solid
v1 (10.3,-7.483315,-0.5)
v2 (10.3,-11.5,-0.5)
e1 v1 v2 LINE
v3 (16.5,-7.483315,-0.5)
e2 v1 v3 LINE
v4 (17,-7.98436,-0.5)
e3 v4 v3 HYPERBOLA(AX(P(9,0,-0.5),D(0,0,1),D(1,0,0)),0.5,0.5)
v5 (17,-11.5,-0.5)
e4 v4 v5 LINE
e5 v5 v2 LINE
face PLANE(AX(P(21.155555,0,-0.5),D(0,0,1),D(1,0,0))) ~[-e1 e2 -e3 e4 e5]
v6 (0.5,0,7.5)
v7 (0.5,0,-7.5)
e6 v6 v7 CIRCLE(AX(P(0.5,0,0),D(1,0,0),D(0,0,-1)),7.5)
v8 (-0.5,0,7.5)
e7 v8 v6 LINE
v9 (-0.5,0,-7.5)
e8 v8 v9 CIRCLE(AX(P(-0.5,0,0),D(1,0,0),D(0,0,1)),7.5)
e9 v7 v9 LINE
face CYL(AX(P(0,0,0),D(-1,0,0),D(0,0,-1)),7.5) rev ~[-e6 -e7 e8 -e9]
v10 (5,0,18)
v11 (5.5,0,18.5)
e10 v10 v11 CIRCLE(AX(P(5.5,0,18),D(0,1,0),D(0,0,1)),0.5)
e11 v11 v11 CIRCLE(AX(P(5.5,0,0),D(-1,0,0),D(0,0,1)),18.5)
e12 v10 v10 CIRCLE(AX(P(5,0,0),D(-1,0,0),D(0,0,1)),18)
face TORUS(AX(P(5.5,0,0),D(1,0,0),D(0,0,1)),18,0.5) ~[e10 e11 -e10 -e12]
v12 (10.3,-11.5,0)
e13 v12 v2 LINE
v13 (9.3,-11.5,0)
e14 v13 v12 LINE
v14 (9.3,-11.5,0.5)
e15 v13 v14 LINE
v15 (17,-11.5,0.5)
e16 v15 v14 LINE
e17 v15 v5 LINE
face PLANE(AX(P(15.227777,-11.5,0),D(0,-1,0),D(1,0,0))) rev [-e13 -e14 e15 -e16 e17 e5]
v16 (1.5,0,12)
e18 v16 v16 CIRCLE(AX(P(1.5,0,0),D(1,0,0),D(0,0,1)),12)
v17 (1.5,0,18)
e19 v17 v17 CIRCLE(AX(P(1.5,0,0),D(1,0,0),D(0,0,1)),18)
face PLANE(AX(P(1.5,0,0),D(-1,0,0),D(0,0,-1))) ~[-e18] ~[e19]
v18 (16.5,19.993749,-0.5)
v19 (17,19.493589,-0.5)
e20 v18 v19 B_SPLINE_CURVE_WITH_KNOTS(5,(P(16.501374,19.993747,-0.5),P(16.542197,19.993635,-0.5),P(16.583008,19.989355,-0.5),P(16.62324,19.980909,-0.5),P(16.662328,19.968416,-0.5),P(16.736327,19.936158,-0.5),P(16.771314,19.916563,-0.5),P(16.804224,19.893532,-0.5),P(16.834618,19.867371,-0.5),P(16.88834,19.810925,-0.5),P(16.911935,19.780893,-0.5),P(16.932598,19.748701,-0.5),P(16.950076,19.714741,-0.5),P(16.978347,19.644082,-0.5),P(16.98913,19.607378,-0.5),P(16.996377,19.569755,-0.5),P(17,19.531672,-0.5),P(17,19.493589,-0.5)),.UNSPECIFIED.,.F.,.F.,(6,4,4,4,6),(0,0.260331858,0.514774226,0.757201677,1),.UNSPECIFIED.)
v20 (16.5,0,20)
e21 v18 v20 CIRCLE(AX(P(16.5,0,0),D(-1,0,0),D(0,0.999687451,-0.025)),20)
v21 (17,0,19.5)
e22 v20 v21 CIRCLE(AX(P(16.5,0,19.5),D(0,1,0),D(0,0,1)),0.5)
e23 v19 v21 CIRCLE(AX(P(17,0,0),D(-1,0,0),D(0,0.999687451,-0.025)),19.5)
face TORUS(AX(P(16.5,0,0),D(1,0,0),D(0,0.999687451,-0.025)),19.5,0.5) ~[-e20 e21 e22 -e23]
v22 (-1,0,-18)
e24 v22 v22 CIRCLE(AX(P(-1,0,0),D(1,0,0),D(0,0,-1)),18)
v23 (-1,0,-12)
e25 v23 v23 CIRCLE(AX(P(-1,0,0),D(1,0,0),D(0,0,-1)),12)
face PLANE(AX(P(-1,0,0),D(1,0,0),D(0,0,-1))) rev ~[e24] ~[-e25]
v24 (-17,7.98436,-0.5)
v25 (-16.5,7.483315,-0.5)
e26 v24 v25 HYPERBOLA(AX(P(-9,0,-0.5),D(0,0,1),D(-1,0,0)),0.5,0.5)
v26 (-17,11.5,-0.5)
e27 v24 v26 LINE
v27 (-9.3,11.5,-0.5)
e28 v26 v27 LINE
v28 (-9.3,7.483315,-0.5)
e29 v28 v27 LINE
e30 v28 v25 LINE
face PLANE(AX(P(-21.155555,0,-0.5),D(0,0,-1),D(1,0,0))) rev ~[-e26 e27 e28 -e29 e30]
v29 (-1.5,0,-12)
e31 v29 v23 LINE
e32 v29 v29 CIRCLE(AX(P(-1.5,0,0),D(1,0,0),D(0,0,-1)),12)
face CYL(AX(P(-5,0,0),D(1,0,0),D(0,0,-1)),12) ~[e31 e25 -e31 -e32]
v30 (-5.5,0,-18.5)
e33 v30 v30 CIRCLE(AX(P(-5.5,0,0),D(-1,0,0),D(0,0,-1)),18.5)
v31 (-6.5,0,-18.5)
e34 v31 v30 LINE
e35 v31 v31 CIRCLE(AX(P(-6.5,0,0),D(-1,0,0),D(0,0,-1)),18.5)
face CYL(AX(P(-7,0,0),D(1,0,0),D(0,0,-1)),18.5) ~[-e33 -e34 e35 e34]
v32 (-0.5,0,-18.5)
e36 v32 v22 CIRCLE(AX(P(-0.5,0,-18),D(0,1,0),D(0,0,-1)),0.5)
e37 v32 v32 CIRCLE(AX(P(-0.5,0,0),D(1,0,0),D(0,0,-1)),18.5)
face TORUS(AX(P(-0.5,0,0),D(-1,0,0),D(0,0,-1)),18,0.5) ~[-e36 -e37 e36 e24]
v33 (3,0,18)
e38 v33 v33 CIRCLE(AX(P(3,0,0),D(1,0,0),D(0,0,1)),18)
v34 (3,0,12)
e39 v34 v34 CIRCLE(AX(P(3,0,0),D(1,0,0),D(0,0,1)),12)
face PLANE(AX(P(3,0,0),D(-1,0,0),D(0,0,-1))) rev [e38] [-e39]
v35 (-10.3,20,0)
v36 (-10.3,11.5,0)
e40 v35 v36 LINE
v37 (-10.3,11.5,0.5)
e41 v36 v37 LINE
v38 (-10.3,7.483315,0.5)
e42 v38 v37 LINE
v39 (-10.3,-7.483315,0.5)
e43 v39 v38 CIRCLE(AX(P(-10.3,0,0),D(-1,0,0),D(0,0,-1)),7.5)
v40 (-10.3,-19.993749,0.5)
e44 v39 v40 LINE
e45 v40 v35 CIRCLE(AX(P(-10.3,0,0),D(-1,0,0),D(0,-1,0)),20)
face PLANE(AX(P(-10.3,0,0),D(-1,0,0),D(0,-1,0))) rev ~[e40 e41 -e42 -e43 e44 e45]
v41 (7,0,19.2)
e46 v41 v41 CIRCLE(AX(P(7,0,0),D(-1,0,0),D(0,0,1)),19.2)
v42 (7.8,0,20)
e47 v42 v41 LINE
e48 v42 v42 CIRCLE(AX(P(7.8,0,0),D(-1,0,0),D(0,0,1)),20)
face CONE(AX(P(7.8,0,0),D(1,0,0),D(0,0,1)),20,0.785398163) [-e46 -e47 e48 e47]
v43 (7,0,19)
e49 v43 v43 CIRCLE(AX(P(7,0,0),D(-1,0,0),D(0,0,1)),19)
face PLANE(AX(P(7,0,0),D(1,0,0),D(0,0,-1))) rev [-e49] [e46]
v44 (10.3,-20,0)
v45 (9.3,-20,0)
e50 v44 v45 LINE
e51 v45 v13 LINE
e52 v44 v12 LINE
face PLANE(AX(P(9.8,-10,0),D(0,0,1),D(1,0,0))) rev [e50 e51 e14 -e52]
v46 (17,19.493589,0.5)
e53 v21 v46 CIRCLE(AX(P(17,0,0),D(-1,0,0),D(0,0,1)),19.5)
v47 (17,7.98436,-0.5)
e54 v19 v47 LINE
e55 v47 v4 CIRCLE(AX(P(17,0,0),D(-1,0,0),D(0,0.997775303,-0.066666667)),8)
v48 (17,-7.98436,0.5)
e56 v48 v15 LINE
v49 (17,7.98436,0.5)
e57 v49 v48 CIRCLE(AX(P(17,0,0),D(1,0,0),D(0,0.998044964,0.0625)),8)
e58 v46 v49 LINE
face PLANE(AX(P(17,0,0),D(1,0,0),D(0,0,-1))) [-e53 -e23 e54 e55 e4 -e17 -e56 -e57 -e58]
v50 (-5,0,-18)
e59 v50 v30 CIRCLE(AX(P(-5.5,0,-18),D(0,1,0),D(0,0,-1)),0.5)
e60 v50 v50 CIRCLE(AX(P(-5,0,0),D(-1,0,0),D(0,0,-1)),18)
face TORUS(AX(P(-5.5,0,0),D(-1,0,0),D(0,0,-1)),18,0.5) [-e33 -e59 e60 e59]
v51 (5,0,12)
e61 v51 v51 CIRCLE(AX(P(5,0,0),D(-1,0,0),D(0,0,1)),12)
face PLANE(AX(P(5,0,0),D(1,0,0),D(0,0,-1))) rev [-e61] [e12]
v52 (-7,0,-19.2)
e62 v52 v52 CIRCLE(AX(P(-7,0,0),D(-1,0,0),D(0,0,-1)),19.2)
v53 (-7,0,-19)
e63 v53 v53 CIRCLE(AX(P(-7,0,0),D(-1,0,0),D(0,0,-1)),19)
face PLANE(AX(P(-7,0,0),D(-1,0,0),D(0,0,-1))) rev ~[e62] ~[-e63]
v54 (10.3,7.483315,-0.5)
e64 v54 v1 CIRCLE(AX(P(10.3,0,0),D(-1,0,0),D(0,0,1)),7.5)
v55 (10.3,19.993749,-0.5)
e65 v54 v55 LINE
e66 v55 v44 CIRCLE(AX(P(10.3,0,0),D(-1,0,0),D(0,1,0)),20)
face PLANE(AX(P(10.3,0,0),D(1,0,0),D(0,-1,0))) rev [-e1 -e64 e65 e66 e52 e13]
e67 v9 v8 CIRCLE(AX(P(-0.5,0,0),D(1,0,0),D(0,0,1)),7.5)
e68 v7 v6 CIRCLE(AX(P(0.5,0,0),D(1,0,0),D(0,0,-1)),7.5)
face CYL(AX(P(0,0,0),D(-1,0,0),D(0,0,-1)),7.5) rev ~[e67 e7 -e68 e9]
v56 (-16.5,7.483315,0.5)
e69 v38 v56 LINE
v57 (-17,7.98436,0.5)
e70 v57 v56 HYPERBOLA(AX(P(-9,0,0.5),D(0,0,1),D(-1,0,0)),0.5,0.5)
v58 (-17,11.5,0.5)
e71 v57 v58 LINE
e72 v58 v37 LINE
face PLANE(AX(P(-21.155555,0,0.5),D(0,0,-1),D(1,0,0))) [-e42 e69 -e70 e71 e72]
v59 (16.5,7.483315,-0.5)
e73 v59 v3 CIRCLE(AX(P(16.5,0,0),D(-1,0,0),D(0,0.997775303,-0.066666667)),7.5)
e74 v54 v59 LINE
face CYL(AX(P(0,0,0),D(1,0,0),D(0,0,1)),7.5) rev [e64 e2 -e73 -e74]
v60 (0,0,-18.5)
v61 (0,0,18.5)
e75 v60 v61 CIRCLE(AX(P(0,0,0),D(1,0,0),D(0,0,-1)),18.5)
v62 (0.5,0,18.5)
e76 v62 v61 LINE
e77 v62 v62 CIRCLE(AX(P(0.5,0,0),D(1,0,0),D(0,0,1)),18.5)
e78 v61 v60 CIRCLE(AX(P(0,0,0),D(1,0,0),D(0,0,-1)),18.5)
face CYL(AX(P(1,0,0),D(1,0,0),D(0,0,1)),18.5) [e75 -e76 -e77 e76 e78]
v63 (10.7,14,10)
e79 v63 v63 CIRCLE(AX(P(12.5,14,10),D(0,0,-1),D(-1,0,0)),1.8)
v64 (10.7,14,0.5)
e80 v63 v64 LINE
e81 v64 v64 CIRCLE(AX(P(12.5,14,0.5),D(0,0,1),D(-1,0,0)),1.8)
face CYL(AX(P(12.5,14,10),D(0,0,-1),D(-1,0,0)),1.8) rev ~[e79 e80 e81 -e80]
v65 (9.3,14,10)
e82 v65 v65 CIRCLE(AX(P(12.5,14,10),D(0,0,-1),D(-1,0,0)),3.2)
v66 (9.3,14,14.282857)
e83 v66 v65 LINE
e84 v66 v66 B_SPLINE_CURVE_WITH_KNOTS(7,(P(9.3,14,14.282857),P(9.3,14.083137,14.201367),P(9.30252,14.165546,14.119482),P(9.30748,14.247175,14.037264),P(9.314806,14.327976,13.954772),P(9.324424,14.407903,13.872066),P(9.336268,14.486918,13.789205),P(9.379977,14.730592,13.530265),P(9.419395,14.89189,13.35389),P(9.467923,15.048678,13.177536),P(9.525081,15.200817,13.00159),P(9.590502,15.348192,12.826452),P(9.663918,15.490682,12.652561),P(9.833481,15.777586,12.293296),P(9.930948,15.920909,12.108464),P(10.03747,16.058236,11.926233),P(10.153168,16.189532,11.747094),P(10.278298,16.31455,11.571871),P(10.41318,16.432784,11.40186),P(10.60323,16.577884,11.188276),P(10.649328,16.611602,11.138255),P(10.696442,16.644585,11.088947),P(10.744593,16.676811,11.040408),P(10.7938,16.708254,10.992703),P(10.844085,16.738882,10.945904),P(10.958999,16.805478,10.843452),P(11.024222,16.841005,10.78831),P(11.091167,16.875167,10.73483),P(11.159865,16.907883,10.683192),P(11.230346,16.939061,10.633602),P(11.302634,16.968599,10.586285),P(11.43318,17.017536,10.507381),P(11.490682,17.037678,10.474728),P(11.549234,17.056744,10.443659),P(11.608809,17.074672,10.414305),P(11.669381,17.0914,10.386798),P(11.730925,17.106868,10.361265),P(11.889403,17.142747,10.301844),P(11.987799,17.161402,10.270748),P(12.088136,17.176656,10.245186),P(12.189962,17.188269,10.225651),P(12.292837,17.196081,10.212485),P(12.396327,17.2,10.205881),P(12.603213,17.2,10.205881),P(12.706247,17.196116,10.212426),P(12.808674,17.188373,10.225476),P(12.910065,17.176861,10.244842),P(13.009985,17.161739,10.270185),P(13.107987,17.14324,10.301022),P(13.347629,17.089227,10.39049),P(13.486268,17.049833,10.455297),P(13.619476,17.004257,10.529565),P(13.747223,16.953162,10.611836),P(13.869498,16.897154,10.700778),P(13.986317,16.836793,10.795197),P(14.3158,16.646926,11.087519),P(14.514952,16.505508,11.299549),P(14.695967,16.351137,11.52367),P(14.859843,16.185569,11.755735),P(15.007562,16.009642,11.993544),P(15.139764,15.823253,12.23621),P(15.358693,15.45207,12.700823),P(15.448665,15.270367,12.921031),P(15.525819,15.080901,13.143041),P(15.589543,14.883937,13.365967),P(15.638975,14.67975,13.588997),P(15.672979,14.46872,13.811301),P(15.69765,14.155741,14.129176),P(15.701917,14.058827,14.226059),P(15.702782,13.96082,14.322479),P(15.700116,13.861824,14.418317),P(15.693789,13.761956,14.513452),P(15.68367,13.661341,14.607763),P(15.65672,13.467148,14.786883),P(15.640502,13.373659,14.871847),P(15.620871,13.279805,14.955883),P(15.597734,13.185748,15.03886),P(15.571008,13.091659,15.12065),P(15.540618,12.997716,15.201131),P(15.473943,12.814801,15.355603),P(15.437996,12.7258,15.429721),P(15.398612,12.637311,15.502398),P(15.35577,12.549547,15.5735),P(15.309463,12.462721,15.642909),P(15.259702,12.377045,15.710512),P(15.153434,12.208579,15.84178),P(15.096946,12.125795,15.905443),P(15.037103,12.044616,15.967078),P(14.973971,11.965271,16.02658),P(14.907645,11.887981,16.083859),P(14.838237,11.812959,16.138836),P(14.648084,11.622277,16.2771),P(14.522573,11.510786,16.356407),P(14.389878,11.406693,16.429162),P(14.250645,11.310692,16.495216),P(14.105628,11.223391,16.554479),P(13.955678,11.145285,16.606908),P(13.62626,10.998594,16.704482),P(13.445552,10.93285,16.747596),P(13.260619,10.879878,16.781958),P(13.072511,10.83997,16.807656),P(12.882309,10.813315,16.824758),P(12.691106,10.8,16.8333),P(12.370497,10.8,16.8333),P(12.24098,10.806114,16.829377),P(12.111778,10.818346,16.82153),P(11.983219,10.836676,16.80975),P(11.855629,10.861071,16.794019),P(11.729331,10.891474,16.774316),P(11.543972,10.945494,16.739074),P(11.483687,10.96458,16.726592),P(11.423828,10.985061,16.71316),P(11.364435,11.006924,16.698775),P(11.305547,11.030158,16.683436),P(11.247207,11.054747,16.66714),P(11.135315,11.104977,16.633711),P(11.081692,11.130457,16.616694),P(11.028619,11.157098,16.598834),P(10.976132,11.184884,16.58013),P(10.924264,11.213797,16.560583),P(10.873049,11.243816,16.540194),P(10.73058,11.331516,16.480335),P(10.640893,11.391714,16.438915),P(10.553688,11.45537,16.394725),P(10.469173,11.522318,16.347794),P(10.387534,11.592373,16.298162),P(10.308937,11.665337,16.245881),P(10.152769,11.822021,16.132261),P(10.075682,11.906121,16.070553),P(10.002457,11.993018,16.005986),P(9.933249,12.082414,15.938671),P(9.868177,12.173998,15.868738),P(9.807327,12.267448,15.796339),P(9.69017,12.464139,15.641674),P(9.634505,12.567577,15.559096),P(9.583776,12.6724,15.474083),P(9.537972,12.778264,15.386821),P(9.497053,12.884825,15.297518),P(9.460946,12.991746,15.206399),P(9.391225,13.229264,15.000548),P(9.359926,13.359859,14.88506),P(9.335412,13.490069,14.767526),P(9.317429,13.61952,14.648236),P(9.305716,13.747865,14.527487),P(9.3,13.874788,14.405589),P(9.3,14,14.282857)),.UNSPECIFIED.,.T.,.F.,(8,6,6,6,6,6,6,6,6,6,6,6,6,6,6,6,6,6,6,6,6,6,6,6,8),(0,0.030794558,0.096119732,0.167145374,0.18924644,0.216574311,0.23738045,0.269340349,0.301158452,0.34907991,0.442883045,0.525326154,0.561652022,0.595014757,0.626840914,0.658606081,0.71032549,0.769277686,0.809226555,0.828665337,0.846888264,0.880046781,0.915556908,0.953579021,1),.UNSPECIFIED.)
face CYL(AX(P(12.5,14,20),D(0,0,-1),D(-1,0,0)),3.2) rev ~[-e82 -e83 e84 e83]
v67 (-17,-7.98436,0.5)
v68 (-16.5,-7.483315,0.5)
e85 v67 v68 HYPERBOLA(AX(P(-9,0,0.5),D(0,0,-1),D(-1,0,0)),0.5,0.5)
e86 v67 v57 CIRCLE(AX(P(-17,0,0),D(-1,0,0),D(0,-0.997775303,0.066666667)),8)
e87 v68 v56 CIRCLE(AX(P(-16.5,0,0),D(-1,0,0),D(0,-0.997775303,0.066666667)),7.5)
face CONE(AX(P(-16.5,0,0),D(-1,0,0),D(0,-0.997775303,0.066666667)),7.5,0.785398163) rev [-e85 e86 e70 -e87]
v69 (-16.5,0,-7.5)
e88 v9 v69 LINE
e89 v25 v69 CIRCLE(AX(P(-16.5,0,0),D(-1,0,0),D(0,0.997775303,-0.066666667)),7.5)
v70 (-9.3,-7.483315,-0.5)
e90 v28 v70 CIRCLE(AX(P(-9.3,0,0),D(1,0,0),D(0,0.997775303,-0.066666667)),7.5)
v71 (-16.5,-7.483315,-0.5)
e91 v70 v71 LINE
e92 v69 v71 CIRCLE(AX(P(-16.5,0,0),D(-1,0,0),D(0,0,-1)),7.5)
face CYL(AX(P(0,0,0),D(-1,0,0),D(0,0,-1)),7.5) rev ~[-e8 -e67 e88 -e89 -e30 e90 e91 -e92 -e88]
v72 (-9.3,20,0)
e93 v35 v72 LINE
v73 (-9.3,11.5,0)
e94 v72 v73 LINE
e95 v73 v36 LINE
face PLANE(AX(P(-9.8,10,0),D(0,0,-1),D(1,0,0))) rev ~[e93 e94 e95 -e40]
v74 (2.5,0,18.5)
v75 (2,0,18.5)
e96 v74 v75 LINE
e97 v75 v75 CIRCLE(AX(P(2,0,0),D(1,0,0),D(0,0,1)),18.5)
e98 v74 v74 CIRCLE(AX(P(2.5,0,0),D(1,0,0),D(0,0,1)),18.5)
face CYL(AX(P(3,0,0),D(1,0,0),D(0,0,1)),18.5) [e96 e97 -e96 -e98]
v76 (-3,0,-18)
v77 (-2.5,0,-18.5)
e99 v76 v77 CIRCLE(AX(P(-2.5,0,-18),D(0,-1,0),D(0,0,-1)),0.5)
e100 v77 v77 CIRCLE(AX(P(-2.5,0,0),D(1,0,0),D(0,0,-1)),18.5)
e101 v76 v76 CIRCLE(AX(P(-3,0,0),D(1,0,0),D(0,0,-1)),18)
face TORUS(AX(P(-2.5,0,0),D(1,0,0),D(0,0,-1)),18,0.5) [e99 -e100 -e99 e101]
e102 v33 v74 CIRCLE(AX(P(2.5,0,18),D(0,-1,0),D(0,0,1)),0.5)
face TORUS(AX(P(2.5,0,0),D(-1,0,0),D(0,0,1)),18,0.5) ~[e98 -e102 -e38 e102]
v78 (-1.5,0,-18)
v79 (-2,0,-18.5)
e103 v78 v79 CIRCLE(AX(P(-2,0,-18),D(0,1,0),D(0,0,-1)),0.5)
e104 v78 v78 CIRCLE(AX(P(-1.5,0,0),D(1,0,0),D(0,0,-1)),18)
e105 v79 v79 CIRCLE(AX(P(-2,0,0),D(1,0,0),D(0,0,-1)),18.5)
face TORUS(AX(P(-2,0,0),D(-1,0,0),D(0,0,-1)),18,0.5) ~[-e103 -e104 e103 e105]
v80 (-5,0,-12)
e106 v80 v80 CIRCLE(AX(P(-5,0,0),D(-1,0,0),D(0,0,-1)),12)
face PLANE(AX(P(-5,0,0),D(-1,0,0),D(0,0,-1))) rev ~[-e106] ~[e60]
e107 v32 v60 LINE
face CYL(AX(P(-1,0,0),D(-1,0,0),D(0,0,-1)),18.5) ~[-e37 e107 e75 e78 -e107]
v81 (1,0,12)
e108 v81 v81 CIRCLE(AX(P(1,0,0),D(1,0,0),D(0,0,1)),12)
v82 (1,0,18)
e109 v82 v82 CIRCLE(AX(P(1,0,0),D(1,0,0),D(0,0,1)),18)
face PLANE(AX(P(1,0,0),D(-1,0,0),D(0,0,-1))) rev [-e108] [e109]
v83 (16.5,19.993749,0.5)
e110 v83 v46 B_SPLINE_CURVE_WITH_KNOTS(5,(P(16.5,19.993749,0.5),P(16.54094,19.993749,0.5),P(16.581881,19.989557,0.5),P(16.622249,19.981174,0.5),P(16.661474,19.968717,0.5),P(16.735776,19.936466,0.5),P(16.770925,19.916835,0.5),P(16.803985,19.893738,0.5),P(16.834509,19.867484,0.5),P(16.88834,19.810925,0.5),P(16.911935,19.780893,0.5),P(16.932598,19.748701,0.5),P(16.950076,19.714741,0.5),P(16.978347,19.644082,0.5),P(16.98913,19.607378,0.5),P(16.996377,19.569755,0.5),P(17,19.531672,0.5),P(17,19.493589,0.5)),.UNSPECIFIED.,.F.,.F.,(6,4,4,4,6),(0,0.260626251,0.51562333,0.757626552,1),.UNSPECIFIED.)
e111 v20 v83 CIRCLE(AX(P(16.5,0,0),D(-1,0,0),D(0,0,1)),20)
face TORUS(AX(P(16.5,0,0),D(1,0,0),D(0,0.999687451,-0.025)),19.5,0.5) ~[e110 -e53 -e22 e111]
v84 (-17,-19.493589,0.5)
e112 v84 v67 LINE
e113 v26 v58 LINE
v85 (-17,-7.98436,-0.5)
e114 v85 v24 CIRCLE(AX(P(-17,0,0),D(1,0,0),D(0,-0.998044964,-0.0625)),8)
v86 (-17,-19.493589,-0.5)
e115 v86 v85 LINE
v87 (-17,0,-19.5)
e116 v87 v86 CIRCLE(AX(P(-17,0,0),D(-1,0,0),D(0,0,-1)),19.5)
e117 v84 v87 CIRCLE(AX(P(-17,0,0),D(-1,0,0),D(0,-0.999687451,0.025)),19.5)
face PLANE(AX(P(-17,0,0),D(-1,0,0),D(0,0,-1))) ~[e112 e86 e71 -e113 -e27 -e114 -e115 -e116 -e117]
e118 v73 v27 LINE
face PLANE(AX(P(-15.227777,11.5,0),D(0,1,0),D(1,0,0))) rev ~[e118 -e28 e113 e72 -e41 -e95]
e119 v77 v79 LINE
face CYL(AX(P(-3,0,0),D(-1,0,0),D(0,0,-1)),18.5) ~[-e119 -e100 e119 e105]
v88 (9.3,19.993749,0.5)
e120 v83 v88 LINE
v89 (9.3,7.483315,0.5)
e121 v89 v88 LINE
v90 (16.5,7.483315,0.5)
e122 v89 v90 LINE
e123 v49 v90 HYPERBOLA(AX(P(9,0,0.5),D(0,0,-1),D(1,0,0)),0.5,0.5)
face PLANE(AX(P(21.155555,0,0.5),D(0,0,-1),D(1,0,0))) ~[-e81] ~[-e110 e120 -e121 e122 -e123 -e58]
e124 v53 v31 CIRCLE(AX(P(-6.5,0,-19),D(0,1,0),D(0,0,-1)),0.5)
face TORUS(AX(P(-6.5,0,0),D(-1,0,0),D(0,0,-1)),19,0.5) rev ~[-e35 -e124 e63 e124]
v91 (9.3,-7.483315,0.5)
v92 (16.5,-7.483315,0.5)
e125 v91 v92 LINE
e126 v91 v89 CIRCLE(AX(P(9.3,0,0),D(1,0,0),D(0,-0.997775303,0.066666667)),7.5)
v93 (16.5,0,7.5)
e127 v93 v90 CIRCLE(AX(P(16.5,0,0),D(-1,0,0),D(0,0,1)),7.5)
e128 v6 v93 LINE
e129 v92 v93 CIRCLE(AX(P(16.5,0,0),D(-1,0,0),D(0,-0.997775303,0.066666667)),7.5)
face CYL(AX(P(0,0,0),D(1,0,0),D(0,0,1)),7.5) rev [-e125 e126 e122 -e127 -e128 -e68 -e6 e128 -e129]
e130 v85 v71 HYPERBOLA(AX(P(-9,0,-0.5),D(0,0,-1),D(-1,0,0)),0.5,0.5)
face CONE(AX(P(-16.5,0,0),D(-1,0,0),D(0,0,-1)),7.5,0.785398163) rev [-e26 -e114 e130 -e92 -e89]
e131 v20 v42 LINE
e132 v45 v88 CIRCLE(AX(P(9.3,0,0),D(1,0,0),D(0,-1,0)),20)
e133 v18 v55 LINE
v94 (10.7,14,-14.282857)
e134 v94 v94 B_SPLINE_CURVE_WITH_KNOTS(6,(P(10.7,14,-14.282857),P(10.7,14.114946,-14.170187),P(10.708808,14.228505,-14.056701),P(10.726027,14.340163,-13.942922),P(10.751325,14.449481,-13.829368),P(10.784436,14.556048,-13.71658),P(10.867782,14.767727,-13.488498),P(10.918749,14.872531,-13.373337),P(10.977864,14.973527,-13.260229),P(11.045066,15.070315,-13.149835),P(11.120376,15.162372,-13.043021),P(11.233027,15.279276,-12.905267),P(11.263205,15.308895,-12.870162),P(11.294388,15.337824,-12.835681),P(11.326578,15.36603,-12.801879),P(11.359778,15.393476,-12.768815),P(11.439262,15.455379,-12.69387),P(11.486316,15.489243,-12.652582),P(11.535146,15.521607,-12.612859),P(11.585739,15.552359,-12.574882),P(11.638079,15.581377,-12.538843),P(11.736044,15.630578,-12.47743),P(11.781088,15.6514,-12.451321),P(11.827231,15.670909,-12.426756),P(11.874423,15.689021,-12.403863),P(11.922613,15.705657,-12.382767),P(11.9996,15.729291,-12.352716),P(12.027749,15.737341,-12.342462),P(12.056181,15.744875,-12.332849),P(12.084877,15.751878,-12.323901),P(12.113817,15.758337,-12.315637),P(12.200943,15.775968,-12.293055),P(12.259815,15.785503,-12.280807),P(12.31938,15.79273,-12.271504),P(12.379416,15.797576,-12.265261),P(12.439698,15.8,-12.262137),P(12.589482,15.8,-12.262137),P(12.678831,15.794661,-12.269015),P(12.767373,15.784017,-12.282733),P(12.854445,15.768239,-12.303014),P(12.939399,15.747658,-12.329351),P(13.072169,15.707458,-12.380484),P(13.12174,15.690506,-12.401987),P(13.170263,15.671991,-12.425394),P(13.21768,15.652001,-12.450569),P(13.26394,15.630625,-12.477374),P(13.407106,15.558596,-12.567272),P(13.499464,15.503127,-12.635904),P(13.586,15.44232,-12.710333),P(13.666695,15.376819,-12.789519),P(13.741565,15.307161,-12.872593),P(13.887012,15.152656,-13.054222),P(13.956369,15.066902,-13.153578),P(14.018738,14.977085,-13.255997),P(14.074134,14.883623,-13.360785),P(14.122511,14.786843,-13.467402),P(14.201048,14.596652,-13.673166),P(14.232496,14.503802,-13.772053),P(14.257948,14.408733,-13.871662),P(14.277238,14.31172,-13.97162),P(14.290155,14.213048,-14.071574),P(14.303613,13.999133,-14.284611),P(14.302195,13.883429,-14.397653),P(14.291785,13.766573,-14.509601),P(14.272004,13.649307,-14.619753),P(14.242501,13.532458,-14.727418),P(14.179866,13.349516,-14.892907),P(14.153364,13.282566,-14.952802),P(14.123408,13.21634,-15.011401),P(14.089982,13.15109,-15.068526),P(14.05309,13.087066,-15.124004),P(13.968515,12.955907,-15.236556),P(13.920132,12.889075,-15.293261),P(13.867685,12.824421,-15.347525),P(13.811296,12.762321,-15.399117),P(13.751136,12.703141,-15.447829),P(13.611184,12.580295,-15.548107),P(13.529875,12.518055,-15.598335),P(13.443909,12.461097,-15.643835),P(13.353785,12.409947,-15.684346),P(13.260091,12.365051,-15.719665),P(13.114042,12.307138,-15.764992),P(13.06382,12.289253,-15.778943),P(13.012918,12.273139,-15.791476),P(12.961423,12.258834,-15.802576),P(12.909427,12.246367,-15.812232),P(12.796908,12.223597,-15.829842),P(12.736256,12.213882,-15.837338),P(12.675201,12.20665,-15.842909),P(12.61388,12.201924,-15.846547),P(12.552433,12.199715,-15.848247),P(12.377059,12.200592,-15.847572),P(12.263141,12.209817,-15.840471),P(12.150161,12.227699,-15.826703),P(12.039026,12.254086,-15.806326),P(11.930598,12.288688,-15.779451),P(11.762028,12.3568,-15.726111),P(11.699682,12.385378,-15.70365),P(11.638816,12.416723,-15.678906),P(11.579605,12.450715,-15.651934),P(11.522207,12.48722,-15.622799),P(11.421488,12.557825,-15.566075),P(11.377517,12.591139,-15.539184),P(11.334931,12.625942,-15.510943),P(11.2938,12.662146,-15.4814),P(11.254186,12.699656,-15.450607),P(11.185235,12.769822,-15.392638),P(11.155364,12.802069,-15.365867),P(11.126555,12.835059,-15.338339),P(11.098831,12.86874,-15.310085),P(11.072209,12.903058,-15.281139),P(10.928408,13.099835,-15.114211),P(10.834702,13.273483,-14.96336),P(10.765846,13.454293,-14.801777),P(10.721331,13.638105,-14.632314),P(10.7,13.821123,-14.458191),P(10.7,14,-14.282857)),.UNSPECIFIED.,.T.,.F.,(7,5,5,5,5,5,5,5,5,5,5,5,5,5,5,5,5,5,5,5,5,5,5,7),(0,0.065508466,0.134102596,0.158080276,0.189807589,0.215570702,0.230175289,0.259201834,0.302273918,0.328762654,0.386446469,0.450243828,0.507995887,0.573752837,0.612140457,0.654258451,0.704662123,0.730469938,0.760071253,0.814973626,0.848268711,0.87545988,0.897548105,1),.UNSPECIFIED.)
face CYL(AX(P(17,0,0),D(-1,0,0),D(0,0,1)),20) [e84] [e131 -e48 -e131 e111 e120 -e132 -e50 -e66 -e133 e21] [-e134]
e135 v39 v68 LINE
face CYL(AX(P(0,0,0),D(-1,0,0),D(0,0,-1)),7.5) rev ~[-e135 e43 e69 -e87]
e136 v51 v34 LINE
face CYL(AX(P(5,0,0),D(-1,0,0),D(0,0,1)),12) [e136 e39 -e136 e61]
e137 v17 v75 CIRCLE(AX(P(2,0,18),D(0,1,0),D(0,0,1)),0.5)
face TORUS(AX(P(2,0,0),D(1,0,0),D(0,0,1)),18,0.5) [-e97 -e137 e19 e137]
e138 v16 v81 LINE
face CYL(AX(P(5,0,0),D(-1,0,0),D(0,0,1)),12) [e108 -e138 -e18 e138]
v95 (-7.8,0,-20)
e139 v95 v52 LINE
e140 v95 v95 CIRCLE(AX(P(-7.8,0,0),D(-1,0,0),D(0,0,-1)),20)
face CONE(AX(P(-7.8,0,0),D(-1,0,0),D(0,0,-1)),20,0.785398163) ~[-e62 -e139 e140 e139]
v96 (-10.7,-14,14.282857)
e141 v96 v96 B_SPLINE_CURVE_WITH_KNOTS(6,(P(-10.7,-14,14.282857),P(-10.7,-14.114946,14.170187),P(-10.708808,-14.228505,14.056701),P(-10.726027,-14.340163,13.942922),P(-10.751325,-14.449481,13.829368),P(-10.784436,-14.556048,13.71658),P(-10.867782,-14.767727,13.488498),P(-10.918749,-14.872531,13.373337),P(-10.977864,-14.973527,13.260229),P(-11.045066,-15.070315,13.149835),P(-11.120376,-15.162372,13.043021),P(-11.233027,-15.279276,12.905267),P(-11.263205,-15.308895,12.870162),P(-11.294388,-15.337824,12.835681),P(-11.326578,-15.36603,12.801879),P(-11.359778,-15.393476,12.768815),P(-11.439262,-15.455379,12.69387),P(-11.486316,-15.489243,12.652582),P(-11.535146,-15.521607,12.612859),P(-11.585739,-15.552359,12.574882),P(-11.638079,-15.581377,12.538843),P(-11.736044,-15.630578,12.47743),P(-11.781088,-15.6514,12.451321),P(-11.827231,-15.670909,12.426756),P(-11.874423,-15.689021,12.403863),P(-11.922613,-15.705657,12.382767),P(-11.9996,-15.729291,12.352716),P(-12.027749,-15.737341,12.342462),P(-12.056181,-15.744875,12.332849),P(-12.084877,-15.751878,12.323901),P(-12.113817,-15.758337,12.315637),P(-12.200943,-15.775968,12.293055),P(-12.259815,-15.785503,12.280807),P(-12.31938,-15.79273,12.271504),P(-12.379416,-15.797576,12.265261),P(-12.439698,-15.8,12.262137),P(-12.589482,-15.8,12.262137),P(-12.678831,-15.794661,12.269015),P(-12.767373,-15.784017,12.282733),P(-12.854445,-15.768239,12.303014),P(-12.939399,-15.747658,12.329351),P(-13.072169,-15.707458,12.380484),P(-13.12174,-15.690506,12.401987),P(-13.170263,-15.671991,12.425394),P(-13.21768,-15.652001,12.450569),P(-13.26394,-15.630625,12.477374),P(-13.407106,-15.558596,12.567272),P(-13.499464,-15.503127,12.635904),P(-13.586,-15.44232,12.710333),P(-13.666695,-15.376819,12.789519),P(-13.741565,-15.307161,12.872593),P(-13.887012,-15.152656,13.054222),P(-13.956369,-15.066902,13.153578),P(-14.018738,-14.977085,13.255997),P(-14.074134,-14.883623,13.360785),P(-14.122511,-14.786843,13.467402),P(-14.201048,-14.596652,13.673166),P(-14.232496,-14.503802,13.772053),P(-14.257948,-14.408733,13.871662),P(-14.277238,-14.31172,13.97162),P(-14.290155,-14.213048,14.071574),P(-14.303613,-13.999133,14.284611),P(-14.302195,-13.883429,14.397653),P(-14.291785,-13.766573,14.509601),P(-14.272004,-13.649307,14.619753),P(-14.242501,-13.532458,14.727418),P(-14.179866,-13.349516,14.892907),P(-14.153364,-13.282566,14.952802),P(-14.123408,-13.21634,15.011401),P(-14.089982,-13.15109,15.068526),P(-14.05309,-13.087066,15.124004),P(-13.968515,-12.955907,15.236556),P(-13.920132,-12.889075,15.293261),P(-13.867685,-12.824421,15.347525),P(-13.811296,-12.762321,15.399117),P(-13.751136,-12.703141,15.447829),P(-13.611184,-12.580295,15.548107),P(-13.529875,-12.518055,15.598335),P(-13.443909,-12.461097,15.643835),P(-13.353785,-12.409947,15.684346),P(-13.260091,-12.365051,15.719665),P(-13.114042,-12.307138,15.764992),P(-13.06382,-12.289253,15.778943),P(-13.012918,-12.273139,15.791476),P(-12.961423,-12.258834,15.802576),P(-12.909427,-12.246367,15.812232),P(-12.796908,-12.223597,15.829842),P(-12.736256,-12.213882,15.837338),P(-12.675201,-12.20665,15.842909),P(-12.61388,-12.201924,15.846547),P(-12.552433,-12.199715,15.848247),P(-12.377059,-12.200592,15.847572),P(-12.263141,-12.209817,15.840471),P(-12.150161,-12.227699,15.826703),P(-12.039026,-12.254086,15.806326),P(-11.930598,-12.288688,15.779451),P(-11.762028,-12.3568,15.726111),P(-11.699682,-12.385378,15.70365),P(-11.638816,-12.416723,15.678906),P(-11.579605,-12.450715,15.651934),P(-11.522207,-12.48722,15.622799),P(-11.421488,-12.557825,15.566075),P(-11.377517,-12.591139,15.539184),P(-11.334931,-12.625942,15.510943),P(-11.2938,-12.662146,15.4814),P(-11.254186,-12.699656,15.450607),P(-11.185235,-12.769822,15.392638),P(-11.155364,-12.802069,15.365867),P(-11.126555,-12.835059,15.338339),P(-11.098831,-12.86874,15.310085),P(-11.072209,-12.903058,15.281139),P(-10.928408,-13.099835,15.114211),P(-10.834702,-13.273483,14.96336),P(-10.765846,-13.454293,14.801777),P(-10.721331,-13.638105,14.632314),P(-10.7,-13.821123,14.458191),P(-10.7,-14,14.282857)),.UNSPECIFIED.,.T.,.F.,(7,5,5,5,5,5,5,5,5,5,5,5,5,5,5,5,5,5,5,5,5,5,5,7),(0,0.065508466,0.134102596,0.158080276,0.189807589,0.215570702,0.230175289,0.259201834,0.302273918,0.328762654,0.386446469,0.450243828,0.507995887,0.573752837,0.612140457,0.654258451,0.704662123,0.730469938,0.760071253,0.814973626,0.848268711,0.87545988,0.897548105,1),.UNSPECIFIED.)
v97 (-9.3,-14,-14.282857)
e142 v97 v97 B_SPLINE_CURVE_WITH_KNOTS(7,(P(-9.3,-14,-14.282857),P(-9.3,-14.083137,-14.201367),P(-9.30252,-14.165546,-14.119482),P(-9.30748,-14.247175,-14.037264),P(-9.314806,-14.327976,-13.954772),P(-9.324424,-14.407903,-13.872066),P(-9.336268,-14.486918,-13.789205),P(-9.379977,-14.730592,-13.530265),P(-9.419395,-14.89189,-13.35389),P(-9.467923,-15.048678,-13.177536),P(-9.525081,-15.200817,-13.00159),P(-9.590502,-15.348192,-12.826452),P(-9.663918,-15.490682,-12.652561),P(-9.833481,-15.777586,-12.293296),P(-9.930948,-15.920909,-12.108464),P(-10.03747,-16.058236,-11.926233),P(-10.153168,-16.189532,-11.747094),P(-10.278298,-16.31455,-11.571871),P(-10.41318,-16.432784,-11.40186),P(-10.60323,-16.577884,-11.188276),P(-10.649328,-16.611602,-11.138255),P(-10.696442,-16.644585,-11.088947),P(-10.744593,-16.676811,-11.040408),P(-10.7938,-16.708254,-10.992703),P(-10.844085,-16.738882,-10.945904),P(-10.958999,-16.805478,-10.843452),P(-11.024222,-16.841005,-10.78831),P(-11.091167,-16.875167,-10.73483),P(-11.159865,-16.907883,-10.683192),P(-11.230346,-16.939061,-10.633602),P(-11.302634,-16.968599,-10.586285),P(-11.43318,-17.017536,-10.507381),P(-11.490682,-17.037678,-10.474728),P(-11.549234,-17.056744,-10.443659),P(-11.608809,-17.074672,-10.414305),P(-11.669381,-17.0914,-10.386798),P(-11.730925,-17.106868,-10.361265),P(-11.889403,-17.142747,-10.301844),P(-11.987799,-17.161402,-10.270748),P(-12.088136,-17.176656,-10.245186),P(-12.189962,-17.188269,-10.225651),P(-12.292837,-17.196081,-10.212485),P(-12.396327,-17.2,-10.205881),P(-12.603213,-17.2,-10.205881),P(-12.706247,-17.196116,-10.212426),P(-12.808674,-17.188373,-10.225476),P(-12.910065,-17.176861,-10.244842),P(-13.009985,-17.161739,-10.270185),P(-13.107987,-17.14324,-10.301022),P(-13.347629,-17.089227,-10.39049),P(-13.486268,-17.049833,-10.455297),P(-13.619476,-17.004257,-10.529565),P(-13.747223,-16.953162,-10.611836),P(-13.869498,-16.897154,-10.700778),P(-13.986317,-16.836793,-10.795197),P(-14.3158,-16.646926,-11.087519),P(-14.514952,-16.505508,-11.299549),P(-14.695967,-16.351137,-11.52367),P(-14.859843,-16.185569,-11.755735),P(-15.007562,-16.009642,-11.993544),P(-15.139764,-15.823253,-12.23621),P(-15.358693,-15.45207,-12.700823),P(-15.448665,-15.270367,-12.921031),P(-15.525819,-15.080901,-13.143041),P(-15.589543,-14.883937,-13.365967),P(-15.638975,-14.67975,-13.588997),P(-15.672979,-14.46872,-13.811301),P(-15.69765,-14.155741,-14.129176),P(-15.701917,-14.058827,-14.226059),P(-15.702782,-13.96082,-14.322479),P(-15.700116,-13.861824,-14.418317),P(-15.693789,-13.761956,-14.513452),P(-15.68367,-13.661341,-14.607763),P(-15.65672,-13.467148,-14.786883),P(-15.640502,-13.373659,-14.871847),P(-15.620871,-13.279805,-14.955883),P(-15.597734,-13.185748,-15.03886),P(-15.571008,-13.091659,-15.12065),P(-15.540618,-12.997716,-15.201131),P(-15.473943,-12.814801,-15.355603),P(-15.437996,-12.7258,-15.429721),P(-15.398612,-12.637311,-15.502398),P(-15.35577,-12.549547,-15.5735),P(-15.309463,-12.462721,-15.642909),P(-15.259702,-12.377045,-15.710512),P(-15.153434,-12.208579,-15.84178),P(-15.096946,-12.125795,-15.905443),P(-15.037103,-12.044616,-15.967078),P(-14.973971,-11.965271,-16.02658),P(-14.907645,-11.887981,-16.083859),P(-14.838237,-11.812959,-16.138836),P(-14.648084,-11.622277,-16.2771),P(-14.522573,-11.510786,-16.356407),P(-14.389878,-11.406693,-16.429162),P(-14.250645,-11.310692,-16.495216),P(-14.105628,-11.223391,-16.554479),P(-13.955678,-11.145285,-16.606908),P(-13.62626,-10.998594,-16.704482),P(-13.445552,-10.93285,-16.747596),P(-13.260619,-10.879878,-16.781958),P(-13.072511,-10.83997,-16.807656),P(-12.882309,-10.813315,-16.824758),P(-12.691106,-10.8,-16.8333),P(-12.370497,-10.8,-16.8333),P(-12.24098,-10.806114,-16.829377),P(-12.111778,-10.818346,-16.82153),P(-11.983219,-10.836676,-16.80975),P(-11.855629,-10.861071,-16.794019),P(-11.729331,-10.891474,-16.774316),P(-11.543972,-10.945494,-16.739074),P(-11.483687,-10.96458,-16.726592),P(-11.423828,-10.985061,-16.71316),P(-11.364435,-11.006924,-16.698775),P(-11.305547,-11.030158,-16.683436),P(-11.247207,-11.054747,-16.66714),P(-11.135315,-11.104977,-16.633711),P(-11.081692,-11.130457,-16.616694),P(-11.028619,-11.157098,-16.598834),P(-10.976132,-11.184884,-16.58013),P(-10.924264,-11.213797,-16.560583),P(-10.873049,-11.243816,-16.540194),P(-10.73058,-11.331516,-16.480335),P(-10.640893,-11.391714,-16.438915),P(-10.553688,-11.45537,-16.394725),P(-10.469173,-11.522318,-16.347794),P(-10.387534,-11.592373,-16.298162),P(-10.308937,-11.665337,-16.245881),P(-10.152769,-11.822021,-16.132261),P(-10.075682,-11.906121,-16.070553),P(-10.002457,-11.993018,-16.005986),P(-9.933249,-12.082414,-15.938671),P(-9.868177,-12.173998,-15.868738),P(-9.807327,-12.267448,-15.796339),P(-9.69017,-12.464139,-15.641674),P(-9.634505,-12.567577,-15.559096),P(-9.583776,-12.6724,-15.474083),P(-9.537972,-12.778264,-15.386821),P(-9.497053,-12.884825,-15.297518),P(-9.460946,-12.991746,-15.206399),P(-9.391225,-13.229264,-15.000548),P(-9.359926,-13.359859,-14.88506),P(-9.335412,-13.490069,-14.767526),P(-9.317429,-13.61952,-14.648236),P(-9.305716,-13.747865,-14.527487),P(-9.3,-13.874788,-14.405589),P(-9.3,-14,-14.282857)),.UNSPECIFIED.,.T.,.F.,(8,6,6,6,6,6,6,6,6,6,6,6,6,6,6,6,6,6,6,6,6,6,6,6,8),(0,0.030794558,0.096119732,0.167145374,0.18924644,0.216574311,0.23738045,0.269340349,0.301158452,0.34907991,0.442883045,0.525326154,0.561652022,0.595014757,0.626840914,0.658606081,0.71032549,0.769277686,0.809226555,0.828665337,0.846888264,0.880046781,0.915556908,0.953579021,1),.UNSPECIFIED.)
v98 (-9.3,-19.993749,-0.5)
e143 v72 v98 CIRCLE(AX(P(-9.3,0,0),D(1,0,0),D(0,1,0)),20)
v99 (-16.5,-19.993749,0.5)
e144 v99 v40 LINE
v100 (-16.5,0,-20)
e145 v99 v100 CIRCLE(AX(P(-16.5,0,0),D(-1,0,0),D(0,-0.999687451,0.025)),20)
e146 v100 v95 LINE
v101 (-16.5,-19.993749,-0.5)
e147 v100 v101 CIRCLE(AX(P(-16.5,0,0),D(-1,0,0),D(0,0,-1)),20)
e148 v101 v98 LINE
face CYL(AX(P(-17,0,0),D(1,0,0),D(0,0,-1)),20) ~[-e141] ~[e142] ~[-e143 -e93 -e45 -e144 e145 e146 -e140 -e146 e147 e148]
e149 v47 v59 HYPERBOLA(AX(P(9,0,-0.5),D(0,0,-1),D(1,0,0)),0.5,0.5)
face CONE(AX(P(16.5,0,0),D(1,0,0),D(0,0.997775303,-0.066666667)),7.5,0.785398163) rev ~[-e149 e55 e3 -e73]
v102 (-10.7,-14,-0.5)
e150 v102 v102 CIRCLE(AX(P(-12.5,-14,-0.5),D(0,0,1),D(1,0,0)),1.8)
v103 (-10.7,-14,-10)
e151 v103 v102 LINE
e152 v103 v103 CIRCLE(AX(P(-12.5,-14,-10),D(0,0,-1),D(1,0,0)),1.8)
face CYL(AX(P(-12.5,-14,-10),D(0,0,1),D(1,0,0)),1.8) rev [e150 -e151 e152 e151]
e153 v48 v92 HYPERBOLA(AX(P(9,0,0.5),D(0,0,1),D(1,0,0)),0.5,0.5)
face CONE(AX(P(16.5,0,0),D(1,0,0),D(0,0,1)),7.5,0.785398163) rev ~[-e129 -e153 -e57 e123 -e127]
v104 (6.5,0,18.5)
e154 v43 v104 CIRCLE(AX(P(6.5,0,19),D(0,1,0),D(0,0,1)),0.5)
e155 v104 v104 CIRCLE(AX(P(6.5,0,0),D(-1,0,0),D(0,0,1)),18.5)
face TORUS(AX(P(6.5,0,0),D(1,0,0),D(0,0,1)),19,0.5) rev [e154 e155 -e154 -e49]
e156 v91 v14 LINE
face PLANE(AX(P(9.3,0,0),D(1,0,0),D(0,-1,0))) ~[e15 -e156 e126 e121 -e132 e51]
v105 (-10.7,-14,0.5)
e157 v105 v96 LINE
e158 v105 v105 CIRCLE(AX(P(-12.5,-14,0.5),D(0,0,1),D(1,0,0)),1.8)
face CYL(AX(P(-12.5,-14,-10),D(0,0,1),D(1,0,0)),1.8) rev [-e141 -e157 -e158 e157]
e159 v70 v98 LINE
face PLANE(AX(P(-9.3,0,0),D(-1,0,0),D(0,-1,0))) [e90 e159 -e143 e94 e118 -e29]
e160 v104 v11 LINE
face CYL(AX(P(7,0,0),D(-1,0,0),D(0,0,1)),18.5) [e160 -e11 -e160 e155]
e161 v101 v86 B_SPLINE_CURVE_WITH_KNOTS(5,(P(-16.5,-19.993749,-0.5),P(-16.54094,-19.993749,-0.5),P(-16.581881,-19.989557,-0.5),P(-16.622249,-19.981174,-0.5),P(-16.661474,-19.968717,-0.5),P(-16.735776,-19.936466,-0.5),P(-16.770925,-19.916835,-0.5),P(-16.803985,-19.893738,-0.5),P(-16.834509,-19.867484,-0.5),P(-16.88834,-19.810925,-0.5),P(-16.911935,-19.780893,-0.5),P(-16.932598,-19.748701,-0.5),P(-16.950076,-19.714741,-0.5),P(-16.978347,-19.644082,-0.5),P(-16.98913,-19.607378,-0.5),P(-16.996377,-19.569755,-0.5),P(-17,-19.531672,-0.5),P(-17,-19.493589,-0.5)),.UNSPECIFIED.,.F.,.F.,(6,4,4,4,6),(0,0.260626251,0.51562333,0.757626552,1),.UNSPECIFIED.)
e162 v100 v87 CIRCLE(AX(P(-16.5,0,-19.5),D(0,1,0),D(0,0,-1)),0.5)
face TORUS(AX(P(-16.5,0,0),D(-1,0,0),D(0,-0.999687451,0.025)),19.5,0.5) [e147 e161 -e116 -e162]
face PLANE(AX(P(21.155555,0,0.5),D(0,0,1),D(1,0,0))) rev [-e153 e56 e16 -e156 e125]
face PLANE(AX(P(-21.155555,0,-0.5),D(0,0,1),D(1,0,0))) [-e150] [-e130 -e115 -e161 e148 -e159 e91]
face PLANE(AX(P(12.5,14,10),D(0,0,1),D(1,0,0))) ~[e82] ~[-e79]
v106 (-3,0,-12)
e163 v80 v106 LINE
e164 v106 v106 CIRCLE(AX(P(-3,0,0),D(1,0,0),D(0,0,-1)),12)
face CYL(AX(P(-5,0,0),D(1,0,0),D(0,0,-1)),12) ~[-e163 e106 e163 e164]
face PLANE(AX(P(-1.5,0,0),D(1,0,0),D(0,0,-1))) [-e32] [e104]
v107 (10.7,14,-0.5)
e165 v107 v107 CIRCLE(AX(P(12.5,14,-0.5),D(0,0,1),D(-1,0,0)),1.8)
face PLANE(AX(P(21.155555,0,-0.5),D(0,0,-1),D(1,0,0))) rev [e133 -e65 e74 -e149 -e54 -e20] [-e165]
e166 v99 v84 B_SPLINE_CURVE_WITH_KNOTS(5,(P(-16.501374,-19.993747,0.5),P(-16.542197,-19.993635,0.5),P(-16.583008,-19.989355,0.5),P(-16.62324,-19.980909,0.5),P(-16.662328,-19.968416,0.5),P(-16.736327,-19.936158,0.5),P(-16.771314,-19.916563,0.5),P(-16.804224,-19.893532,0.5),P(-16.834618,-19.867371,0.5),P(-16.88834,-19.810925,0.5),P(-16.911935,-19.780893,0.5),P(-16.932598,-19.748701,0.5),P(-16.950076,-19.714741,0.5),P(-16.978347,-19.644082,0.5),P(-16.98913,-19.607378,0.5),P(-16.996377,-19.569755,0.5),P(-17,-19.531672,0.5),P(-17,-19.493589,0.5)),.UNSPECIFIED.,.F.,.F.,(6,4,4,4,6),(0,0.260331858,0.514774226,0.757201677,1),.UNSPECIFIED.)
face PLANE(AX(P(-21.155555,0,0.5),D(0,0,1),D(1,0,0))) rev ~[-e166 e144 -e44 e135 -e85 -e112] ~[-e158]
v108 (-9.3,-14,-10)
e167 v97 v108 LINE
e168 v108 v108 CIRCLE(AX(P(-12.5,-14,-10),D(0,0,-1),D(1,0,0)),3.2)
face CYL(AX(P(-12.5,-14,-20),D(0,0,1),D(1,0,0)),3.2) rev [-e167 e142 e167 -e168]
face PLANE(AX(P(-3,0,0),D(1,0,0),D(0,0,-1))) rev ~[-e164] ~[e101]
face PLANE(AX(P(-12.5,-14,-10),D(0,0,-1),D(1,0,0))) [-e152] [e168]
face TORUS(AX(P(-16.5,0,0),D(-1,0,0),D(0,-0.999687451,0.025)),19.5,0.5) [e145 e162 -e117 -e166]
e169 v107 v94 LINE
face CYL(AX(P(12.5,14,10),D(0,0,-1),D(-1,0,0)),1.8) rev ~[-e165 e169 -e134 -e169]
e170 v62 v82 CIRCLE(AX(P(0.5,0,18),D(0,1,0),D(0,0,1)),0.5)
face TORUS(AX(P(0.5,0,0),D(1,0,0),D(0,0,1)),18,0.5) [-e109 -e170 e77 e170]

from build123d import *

# Parameters (mm, degrees)
SKETCH2_R                      = 18.5
SKETCH2_R_2                    = 7.5
BOSS_EXTRUDE1_DEPTH            = 1.5
CHAMFER2_SIZE                  = 0.8
FILLET1_R                      = 0.5
LPATTERN1_COUNT                = 2
LPATTERN1_PITCH                = 2
FILLET1_OF_LPATTERN1_R         = 0.5
FILLET2_R                      = 0.5
CUT_EXTRUDE1_REACH             = 35
SKETCH3_W                      = 11.855554905
SKETCH3_H                      = 1
CUT_EXTRUDE1_DIRECTION_2_DEPTH = 11.5
SKETCH5_W                      = 1
SKETCH5_H                      = 20
CUT_REVOLVE1_ANGLE             = 180
FILLET3_R                      = 0.5
CHAMFER3_SIZE                  = 0.5
BODY_MOVE_COPY1_ANGLE          = 180


with BuildPart() as part:
    # Sketch1 → Revolve1 (revolve)
    with BuildSketch(Plane.XY, mode=Mode.PRIVATE) as revolve1_sk:
        Polygon((-17, 20), (-7, 20), (-7, 18.5), (-5, 18.5), (-5, 12), (0, 12), (0, 7.5), (-17, 7.5), align=None)
    revolve(revolve1_sk.sketch.rotate(Axis((0, 0, 0), (-1, 0, 0)), 90), axis=Axis((0, 0, 0), (-1, 0, 0)))

    # Sketch2 → Boss-Extrude1 (add)
    with BuildSketch(Plane(origin=(-3, 0, 0), x_dir=(0, 0, -1), z_dir=(1, 0, 0))):
        Circle(SKETCH2_R)
        Circle(SKETCH2_R_2, mode=Mode.SUBTRACT)
    boss_extrude1 = extrude(amount=BOSS_EXTRUDE1_DEPTH)

    # Chamfer2
    chamfer2_edges = [part.edges().sort_by_distance(p)[0] for p in [
        (-7, 0, 20),
    ]]
    chamfer(chamfer2_edges, length=CHAMFER2_SIZE)

    # Fillet1
    fillet1_edges = [part.edges().sort_by_distance(p)[0] for p in [
        (-1.5, 0, 18.5),
        (-3, 0, 18.5),
    ]]
    fillet(fillet1_edges, radius=FILLET1_R)

    # LPattern1: Boss-Extrude1 ×2
    with Locations(*[(i * LPATTERN1_PITCH, 0, 0) for i in range(1, LPATTERN1_COUNT)]):
        add(boss_extrude1)

    # Fillet1 of LPattern1
    fillet1_of_lpattern1_edges = [part.edges().sort_by_distance(p)[0] for p in [
        (0.5, 0, 18.5),
        (-1, 0, 18.5),
    ]]
    fillet(fillet1_of_lpattern1_edges, radius=FILLET1_OF_LPATTERN1_R)

    # Fillet2
    fillet2_edges = [part.edges().sort_by_distance(p)[0] for p in [
        (-5, 0, 18.5),
        (-7, 0, 18.5),
    ]]
    fillet(fillet2_edges, radius=FILLET2_R)

    # Sketch3 → Cut-Extrude1 (cut, up to next)
    with BuildSketch(Plane(origin=(0, 0, 0), x_dir=(1, 0, 0), z_dir=(0, 1, 0)), mode=Mode.PRIVATE) as cut_extrude1_sk1:
        with Locations((-15.227777453, 0)):
            Rectangle(SKETCH3_W, SKETCH3_H)
    cut_extrude1_tool1 = extrude(cut_extrude1_sk1.sketch, amount=-CUT_EXTRUDE1_REACH, mode=Mode.PRIVATE) & part.part
    add(cut_extrude1_tool1.solids().sort_by_distance((-15.227777, 0, 0))[0], mode=Mode.SUBTRACT)

    # Sketch3 → Cut-Extrude1 direction 2 (cut)
    with BuildSketch(Plane(origin=(0, 0, 0), x_dir=(1, 0, 0), z_dir=(0, 1, 0))):
        with Locations((-15.227777453, 0)):
            Rectangle(SKETCH3_W, SKETCH3_H)
    extrude(amount=CUT_EXTRUDE1_DIRECTION_2_DEPTH, mode=Mode.SUBTRACT)

    # Sketch5 → Cut-Revolve1 (revolve, cut)
    with BuildSketch(Plane.XY):
        with Locations((-9.8, -10)):
            Rectangle(SKETCH5_W, SKETCH5_H)
    revolve(axis=Axis((-9.3, 0, 0), (-1, 0, 0)), revolution_arc=CUT_REVOLVE1_ANGLE, mode=Mode.SUBTRACT)

    # Sketch11 → Cut-Revolve3 (revolve, cut)
    with BuildSketch(Plane(origin=(0, -14, 0), x_dir=(1, 0, 0), z_dir=(0, 1, 0)), mode=Mode.PRIVATE) as cut_revolve3_sk:
        Polygon((-15.7, 20), (-15.7, 10), (-14.3, 10), (-14.3, -22.005521723), (-12.5, -22.005521723), (-12.5, 20), align=None)
    revolve(cut_revolve3_sk.sketch.rotate(Axis((-12.5, -14, 22.005521723), (0, 0, -1)), 180), axis=Axis((-12.5, -14, 22.005521723), (0, 0, -1)), mode=Mode.SUBTRACT)

    # Fillet3
    fillet3_edges = [part.edges().sort_by_distance(p)[0] for p in [
        (-17, 14.317821063, 13.964240044),
    ]]
    fillet(fillet3_edges, radius=FILLET3_R)

    # Chamfer3
    chamfer3_edges = [part.edges().sort_by_distance(p)[0] for p in [
        (-17, 0, 7.5),
        (-17, -5.123475383, -5.477225575),
    ]]
    chamfer(chamfer3_edges, length=CHAMFER3_SIZE)


with BuildPart() as body_2:
    # Mirror1: mirrored copy
    add(part.part.mirror(Plane(origin=(0, 0, 0), x_dir=(0, 0, 1), z_dir=(1, 0, 0))))


with BuildPart() as body_2_1:
    # Body-Move/Copy1: moved
    add(body_2.part.rotate(Axis((0, 0, 0), (1, 0, 0)), BODY_MOVE_COPY1_ANGLE))


with BuildPart() as part_1:
    add(part.part)

    # Combine1: union body 2
    add(body_2_1.part)


solid = part_1.part
